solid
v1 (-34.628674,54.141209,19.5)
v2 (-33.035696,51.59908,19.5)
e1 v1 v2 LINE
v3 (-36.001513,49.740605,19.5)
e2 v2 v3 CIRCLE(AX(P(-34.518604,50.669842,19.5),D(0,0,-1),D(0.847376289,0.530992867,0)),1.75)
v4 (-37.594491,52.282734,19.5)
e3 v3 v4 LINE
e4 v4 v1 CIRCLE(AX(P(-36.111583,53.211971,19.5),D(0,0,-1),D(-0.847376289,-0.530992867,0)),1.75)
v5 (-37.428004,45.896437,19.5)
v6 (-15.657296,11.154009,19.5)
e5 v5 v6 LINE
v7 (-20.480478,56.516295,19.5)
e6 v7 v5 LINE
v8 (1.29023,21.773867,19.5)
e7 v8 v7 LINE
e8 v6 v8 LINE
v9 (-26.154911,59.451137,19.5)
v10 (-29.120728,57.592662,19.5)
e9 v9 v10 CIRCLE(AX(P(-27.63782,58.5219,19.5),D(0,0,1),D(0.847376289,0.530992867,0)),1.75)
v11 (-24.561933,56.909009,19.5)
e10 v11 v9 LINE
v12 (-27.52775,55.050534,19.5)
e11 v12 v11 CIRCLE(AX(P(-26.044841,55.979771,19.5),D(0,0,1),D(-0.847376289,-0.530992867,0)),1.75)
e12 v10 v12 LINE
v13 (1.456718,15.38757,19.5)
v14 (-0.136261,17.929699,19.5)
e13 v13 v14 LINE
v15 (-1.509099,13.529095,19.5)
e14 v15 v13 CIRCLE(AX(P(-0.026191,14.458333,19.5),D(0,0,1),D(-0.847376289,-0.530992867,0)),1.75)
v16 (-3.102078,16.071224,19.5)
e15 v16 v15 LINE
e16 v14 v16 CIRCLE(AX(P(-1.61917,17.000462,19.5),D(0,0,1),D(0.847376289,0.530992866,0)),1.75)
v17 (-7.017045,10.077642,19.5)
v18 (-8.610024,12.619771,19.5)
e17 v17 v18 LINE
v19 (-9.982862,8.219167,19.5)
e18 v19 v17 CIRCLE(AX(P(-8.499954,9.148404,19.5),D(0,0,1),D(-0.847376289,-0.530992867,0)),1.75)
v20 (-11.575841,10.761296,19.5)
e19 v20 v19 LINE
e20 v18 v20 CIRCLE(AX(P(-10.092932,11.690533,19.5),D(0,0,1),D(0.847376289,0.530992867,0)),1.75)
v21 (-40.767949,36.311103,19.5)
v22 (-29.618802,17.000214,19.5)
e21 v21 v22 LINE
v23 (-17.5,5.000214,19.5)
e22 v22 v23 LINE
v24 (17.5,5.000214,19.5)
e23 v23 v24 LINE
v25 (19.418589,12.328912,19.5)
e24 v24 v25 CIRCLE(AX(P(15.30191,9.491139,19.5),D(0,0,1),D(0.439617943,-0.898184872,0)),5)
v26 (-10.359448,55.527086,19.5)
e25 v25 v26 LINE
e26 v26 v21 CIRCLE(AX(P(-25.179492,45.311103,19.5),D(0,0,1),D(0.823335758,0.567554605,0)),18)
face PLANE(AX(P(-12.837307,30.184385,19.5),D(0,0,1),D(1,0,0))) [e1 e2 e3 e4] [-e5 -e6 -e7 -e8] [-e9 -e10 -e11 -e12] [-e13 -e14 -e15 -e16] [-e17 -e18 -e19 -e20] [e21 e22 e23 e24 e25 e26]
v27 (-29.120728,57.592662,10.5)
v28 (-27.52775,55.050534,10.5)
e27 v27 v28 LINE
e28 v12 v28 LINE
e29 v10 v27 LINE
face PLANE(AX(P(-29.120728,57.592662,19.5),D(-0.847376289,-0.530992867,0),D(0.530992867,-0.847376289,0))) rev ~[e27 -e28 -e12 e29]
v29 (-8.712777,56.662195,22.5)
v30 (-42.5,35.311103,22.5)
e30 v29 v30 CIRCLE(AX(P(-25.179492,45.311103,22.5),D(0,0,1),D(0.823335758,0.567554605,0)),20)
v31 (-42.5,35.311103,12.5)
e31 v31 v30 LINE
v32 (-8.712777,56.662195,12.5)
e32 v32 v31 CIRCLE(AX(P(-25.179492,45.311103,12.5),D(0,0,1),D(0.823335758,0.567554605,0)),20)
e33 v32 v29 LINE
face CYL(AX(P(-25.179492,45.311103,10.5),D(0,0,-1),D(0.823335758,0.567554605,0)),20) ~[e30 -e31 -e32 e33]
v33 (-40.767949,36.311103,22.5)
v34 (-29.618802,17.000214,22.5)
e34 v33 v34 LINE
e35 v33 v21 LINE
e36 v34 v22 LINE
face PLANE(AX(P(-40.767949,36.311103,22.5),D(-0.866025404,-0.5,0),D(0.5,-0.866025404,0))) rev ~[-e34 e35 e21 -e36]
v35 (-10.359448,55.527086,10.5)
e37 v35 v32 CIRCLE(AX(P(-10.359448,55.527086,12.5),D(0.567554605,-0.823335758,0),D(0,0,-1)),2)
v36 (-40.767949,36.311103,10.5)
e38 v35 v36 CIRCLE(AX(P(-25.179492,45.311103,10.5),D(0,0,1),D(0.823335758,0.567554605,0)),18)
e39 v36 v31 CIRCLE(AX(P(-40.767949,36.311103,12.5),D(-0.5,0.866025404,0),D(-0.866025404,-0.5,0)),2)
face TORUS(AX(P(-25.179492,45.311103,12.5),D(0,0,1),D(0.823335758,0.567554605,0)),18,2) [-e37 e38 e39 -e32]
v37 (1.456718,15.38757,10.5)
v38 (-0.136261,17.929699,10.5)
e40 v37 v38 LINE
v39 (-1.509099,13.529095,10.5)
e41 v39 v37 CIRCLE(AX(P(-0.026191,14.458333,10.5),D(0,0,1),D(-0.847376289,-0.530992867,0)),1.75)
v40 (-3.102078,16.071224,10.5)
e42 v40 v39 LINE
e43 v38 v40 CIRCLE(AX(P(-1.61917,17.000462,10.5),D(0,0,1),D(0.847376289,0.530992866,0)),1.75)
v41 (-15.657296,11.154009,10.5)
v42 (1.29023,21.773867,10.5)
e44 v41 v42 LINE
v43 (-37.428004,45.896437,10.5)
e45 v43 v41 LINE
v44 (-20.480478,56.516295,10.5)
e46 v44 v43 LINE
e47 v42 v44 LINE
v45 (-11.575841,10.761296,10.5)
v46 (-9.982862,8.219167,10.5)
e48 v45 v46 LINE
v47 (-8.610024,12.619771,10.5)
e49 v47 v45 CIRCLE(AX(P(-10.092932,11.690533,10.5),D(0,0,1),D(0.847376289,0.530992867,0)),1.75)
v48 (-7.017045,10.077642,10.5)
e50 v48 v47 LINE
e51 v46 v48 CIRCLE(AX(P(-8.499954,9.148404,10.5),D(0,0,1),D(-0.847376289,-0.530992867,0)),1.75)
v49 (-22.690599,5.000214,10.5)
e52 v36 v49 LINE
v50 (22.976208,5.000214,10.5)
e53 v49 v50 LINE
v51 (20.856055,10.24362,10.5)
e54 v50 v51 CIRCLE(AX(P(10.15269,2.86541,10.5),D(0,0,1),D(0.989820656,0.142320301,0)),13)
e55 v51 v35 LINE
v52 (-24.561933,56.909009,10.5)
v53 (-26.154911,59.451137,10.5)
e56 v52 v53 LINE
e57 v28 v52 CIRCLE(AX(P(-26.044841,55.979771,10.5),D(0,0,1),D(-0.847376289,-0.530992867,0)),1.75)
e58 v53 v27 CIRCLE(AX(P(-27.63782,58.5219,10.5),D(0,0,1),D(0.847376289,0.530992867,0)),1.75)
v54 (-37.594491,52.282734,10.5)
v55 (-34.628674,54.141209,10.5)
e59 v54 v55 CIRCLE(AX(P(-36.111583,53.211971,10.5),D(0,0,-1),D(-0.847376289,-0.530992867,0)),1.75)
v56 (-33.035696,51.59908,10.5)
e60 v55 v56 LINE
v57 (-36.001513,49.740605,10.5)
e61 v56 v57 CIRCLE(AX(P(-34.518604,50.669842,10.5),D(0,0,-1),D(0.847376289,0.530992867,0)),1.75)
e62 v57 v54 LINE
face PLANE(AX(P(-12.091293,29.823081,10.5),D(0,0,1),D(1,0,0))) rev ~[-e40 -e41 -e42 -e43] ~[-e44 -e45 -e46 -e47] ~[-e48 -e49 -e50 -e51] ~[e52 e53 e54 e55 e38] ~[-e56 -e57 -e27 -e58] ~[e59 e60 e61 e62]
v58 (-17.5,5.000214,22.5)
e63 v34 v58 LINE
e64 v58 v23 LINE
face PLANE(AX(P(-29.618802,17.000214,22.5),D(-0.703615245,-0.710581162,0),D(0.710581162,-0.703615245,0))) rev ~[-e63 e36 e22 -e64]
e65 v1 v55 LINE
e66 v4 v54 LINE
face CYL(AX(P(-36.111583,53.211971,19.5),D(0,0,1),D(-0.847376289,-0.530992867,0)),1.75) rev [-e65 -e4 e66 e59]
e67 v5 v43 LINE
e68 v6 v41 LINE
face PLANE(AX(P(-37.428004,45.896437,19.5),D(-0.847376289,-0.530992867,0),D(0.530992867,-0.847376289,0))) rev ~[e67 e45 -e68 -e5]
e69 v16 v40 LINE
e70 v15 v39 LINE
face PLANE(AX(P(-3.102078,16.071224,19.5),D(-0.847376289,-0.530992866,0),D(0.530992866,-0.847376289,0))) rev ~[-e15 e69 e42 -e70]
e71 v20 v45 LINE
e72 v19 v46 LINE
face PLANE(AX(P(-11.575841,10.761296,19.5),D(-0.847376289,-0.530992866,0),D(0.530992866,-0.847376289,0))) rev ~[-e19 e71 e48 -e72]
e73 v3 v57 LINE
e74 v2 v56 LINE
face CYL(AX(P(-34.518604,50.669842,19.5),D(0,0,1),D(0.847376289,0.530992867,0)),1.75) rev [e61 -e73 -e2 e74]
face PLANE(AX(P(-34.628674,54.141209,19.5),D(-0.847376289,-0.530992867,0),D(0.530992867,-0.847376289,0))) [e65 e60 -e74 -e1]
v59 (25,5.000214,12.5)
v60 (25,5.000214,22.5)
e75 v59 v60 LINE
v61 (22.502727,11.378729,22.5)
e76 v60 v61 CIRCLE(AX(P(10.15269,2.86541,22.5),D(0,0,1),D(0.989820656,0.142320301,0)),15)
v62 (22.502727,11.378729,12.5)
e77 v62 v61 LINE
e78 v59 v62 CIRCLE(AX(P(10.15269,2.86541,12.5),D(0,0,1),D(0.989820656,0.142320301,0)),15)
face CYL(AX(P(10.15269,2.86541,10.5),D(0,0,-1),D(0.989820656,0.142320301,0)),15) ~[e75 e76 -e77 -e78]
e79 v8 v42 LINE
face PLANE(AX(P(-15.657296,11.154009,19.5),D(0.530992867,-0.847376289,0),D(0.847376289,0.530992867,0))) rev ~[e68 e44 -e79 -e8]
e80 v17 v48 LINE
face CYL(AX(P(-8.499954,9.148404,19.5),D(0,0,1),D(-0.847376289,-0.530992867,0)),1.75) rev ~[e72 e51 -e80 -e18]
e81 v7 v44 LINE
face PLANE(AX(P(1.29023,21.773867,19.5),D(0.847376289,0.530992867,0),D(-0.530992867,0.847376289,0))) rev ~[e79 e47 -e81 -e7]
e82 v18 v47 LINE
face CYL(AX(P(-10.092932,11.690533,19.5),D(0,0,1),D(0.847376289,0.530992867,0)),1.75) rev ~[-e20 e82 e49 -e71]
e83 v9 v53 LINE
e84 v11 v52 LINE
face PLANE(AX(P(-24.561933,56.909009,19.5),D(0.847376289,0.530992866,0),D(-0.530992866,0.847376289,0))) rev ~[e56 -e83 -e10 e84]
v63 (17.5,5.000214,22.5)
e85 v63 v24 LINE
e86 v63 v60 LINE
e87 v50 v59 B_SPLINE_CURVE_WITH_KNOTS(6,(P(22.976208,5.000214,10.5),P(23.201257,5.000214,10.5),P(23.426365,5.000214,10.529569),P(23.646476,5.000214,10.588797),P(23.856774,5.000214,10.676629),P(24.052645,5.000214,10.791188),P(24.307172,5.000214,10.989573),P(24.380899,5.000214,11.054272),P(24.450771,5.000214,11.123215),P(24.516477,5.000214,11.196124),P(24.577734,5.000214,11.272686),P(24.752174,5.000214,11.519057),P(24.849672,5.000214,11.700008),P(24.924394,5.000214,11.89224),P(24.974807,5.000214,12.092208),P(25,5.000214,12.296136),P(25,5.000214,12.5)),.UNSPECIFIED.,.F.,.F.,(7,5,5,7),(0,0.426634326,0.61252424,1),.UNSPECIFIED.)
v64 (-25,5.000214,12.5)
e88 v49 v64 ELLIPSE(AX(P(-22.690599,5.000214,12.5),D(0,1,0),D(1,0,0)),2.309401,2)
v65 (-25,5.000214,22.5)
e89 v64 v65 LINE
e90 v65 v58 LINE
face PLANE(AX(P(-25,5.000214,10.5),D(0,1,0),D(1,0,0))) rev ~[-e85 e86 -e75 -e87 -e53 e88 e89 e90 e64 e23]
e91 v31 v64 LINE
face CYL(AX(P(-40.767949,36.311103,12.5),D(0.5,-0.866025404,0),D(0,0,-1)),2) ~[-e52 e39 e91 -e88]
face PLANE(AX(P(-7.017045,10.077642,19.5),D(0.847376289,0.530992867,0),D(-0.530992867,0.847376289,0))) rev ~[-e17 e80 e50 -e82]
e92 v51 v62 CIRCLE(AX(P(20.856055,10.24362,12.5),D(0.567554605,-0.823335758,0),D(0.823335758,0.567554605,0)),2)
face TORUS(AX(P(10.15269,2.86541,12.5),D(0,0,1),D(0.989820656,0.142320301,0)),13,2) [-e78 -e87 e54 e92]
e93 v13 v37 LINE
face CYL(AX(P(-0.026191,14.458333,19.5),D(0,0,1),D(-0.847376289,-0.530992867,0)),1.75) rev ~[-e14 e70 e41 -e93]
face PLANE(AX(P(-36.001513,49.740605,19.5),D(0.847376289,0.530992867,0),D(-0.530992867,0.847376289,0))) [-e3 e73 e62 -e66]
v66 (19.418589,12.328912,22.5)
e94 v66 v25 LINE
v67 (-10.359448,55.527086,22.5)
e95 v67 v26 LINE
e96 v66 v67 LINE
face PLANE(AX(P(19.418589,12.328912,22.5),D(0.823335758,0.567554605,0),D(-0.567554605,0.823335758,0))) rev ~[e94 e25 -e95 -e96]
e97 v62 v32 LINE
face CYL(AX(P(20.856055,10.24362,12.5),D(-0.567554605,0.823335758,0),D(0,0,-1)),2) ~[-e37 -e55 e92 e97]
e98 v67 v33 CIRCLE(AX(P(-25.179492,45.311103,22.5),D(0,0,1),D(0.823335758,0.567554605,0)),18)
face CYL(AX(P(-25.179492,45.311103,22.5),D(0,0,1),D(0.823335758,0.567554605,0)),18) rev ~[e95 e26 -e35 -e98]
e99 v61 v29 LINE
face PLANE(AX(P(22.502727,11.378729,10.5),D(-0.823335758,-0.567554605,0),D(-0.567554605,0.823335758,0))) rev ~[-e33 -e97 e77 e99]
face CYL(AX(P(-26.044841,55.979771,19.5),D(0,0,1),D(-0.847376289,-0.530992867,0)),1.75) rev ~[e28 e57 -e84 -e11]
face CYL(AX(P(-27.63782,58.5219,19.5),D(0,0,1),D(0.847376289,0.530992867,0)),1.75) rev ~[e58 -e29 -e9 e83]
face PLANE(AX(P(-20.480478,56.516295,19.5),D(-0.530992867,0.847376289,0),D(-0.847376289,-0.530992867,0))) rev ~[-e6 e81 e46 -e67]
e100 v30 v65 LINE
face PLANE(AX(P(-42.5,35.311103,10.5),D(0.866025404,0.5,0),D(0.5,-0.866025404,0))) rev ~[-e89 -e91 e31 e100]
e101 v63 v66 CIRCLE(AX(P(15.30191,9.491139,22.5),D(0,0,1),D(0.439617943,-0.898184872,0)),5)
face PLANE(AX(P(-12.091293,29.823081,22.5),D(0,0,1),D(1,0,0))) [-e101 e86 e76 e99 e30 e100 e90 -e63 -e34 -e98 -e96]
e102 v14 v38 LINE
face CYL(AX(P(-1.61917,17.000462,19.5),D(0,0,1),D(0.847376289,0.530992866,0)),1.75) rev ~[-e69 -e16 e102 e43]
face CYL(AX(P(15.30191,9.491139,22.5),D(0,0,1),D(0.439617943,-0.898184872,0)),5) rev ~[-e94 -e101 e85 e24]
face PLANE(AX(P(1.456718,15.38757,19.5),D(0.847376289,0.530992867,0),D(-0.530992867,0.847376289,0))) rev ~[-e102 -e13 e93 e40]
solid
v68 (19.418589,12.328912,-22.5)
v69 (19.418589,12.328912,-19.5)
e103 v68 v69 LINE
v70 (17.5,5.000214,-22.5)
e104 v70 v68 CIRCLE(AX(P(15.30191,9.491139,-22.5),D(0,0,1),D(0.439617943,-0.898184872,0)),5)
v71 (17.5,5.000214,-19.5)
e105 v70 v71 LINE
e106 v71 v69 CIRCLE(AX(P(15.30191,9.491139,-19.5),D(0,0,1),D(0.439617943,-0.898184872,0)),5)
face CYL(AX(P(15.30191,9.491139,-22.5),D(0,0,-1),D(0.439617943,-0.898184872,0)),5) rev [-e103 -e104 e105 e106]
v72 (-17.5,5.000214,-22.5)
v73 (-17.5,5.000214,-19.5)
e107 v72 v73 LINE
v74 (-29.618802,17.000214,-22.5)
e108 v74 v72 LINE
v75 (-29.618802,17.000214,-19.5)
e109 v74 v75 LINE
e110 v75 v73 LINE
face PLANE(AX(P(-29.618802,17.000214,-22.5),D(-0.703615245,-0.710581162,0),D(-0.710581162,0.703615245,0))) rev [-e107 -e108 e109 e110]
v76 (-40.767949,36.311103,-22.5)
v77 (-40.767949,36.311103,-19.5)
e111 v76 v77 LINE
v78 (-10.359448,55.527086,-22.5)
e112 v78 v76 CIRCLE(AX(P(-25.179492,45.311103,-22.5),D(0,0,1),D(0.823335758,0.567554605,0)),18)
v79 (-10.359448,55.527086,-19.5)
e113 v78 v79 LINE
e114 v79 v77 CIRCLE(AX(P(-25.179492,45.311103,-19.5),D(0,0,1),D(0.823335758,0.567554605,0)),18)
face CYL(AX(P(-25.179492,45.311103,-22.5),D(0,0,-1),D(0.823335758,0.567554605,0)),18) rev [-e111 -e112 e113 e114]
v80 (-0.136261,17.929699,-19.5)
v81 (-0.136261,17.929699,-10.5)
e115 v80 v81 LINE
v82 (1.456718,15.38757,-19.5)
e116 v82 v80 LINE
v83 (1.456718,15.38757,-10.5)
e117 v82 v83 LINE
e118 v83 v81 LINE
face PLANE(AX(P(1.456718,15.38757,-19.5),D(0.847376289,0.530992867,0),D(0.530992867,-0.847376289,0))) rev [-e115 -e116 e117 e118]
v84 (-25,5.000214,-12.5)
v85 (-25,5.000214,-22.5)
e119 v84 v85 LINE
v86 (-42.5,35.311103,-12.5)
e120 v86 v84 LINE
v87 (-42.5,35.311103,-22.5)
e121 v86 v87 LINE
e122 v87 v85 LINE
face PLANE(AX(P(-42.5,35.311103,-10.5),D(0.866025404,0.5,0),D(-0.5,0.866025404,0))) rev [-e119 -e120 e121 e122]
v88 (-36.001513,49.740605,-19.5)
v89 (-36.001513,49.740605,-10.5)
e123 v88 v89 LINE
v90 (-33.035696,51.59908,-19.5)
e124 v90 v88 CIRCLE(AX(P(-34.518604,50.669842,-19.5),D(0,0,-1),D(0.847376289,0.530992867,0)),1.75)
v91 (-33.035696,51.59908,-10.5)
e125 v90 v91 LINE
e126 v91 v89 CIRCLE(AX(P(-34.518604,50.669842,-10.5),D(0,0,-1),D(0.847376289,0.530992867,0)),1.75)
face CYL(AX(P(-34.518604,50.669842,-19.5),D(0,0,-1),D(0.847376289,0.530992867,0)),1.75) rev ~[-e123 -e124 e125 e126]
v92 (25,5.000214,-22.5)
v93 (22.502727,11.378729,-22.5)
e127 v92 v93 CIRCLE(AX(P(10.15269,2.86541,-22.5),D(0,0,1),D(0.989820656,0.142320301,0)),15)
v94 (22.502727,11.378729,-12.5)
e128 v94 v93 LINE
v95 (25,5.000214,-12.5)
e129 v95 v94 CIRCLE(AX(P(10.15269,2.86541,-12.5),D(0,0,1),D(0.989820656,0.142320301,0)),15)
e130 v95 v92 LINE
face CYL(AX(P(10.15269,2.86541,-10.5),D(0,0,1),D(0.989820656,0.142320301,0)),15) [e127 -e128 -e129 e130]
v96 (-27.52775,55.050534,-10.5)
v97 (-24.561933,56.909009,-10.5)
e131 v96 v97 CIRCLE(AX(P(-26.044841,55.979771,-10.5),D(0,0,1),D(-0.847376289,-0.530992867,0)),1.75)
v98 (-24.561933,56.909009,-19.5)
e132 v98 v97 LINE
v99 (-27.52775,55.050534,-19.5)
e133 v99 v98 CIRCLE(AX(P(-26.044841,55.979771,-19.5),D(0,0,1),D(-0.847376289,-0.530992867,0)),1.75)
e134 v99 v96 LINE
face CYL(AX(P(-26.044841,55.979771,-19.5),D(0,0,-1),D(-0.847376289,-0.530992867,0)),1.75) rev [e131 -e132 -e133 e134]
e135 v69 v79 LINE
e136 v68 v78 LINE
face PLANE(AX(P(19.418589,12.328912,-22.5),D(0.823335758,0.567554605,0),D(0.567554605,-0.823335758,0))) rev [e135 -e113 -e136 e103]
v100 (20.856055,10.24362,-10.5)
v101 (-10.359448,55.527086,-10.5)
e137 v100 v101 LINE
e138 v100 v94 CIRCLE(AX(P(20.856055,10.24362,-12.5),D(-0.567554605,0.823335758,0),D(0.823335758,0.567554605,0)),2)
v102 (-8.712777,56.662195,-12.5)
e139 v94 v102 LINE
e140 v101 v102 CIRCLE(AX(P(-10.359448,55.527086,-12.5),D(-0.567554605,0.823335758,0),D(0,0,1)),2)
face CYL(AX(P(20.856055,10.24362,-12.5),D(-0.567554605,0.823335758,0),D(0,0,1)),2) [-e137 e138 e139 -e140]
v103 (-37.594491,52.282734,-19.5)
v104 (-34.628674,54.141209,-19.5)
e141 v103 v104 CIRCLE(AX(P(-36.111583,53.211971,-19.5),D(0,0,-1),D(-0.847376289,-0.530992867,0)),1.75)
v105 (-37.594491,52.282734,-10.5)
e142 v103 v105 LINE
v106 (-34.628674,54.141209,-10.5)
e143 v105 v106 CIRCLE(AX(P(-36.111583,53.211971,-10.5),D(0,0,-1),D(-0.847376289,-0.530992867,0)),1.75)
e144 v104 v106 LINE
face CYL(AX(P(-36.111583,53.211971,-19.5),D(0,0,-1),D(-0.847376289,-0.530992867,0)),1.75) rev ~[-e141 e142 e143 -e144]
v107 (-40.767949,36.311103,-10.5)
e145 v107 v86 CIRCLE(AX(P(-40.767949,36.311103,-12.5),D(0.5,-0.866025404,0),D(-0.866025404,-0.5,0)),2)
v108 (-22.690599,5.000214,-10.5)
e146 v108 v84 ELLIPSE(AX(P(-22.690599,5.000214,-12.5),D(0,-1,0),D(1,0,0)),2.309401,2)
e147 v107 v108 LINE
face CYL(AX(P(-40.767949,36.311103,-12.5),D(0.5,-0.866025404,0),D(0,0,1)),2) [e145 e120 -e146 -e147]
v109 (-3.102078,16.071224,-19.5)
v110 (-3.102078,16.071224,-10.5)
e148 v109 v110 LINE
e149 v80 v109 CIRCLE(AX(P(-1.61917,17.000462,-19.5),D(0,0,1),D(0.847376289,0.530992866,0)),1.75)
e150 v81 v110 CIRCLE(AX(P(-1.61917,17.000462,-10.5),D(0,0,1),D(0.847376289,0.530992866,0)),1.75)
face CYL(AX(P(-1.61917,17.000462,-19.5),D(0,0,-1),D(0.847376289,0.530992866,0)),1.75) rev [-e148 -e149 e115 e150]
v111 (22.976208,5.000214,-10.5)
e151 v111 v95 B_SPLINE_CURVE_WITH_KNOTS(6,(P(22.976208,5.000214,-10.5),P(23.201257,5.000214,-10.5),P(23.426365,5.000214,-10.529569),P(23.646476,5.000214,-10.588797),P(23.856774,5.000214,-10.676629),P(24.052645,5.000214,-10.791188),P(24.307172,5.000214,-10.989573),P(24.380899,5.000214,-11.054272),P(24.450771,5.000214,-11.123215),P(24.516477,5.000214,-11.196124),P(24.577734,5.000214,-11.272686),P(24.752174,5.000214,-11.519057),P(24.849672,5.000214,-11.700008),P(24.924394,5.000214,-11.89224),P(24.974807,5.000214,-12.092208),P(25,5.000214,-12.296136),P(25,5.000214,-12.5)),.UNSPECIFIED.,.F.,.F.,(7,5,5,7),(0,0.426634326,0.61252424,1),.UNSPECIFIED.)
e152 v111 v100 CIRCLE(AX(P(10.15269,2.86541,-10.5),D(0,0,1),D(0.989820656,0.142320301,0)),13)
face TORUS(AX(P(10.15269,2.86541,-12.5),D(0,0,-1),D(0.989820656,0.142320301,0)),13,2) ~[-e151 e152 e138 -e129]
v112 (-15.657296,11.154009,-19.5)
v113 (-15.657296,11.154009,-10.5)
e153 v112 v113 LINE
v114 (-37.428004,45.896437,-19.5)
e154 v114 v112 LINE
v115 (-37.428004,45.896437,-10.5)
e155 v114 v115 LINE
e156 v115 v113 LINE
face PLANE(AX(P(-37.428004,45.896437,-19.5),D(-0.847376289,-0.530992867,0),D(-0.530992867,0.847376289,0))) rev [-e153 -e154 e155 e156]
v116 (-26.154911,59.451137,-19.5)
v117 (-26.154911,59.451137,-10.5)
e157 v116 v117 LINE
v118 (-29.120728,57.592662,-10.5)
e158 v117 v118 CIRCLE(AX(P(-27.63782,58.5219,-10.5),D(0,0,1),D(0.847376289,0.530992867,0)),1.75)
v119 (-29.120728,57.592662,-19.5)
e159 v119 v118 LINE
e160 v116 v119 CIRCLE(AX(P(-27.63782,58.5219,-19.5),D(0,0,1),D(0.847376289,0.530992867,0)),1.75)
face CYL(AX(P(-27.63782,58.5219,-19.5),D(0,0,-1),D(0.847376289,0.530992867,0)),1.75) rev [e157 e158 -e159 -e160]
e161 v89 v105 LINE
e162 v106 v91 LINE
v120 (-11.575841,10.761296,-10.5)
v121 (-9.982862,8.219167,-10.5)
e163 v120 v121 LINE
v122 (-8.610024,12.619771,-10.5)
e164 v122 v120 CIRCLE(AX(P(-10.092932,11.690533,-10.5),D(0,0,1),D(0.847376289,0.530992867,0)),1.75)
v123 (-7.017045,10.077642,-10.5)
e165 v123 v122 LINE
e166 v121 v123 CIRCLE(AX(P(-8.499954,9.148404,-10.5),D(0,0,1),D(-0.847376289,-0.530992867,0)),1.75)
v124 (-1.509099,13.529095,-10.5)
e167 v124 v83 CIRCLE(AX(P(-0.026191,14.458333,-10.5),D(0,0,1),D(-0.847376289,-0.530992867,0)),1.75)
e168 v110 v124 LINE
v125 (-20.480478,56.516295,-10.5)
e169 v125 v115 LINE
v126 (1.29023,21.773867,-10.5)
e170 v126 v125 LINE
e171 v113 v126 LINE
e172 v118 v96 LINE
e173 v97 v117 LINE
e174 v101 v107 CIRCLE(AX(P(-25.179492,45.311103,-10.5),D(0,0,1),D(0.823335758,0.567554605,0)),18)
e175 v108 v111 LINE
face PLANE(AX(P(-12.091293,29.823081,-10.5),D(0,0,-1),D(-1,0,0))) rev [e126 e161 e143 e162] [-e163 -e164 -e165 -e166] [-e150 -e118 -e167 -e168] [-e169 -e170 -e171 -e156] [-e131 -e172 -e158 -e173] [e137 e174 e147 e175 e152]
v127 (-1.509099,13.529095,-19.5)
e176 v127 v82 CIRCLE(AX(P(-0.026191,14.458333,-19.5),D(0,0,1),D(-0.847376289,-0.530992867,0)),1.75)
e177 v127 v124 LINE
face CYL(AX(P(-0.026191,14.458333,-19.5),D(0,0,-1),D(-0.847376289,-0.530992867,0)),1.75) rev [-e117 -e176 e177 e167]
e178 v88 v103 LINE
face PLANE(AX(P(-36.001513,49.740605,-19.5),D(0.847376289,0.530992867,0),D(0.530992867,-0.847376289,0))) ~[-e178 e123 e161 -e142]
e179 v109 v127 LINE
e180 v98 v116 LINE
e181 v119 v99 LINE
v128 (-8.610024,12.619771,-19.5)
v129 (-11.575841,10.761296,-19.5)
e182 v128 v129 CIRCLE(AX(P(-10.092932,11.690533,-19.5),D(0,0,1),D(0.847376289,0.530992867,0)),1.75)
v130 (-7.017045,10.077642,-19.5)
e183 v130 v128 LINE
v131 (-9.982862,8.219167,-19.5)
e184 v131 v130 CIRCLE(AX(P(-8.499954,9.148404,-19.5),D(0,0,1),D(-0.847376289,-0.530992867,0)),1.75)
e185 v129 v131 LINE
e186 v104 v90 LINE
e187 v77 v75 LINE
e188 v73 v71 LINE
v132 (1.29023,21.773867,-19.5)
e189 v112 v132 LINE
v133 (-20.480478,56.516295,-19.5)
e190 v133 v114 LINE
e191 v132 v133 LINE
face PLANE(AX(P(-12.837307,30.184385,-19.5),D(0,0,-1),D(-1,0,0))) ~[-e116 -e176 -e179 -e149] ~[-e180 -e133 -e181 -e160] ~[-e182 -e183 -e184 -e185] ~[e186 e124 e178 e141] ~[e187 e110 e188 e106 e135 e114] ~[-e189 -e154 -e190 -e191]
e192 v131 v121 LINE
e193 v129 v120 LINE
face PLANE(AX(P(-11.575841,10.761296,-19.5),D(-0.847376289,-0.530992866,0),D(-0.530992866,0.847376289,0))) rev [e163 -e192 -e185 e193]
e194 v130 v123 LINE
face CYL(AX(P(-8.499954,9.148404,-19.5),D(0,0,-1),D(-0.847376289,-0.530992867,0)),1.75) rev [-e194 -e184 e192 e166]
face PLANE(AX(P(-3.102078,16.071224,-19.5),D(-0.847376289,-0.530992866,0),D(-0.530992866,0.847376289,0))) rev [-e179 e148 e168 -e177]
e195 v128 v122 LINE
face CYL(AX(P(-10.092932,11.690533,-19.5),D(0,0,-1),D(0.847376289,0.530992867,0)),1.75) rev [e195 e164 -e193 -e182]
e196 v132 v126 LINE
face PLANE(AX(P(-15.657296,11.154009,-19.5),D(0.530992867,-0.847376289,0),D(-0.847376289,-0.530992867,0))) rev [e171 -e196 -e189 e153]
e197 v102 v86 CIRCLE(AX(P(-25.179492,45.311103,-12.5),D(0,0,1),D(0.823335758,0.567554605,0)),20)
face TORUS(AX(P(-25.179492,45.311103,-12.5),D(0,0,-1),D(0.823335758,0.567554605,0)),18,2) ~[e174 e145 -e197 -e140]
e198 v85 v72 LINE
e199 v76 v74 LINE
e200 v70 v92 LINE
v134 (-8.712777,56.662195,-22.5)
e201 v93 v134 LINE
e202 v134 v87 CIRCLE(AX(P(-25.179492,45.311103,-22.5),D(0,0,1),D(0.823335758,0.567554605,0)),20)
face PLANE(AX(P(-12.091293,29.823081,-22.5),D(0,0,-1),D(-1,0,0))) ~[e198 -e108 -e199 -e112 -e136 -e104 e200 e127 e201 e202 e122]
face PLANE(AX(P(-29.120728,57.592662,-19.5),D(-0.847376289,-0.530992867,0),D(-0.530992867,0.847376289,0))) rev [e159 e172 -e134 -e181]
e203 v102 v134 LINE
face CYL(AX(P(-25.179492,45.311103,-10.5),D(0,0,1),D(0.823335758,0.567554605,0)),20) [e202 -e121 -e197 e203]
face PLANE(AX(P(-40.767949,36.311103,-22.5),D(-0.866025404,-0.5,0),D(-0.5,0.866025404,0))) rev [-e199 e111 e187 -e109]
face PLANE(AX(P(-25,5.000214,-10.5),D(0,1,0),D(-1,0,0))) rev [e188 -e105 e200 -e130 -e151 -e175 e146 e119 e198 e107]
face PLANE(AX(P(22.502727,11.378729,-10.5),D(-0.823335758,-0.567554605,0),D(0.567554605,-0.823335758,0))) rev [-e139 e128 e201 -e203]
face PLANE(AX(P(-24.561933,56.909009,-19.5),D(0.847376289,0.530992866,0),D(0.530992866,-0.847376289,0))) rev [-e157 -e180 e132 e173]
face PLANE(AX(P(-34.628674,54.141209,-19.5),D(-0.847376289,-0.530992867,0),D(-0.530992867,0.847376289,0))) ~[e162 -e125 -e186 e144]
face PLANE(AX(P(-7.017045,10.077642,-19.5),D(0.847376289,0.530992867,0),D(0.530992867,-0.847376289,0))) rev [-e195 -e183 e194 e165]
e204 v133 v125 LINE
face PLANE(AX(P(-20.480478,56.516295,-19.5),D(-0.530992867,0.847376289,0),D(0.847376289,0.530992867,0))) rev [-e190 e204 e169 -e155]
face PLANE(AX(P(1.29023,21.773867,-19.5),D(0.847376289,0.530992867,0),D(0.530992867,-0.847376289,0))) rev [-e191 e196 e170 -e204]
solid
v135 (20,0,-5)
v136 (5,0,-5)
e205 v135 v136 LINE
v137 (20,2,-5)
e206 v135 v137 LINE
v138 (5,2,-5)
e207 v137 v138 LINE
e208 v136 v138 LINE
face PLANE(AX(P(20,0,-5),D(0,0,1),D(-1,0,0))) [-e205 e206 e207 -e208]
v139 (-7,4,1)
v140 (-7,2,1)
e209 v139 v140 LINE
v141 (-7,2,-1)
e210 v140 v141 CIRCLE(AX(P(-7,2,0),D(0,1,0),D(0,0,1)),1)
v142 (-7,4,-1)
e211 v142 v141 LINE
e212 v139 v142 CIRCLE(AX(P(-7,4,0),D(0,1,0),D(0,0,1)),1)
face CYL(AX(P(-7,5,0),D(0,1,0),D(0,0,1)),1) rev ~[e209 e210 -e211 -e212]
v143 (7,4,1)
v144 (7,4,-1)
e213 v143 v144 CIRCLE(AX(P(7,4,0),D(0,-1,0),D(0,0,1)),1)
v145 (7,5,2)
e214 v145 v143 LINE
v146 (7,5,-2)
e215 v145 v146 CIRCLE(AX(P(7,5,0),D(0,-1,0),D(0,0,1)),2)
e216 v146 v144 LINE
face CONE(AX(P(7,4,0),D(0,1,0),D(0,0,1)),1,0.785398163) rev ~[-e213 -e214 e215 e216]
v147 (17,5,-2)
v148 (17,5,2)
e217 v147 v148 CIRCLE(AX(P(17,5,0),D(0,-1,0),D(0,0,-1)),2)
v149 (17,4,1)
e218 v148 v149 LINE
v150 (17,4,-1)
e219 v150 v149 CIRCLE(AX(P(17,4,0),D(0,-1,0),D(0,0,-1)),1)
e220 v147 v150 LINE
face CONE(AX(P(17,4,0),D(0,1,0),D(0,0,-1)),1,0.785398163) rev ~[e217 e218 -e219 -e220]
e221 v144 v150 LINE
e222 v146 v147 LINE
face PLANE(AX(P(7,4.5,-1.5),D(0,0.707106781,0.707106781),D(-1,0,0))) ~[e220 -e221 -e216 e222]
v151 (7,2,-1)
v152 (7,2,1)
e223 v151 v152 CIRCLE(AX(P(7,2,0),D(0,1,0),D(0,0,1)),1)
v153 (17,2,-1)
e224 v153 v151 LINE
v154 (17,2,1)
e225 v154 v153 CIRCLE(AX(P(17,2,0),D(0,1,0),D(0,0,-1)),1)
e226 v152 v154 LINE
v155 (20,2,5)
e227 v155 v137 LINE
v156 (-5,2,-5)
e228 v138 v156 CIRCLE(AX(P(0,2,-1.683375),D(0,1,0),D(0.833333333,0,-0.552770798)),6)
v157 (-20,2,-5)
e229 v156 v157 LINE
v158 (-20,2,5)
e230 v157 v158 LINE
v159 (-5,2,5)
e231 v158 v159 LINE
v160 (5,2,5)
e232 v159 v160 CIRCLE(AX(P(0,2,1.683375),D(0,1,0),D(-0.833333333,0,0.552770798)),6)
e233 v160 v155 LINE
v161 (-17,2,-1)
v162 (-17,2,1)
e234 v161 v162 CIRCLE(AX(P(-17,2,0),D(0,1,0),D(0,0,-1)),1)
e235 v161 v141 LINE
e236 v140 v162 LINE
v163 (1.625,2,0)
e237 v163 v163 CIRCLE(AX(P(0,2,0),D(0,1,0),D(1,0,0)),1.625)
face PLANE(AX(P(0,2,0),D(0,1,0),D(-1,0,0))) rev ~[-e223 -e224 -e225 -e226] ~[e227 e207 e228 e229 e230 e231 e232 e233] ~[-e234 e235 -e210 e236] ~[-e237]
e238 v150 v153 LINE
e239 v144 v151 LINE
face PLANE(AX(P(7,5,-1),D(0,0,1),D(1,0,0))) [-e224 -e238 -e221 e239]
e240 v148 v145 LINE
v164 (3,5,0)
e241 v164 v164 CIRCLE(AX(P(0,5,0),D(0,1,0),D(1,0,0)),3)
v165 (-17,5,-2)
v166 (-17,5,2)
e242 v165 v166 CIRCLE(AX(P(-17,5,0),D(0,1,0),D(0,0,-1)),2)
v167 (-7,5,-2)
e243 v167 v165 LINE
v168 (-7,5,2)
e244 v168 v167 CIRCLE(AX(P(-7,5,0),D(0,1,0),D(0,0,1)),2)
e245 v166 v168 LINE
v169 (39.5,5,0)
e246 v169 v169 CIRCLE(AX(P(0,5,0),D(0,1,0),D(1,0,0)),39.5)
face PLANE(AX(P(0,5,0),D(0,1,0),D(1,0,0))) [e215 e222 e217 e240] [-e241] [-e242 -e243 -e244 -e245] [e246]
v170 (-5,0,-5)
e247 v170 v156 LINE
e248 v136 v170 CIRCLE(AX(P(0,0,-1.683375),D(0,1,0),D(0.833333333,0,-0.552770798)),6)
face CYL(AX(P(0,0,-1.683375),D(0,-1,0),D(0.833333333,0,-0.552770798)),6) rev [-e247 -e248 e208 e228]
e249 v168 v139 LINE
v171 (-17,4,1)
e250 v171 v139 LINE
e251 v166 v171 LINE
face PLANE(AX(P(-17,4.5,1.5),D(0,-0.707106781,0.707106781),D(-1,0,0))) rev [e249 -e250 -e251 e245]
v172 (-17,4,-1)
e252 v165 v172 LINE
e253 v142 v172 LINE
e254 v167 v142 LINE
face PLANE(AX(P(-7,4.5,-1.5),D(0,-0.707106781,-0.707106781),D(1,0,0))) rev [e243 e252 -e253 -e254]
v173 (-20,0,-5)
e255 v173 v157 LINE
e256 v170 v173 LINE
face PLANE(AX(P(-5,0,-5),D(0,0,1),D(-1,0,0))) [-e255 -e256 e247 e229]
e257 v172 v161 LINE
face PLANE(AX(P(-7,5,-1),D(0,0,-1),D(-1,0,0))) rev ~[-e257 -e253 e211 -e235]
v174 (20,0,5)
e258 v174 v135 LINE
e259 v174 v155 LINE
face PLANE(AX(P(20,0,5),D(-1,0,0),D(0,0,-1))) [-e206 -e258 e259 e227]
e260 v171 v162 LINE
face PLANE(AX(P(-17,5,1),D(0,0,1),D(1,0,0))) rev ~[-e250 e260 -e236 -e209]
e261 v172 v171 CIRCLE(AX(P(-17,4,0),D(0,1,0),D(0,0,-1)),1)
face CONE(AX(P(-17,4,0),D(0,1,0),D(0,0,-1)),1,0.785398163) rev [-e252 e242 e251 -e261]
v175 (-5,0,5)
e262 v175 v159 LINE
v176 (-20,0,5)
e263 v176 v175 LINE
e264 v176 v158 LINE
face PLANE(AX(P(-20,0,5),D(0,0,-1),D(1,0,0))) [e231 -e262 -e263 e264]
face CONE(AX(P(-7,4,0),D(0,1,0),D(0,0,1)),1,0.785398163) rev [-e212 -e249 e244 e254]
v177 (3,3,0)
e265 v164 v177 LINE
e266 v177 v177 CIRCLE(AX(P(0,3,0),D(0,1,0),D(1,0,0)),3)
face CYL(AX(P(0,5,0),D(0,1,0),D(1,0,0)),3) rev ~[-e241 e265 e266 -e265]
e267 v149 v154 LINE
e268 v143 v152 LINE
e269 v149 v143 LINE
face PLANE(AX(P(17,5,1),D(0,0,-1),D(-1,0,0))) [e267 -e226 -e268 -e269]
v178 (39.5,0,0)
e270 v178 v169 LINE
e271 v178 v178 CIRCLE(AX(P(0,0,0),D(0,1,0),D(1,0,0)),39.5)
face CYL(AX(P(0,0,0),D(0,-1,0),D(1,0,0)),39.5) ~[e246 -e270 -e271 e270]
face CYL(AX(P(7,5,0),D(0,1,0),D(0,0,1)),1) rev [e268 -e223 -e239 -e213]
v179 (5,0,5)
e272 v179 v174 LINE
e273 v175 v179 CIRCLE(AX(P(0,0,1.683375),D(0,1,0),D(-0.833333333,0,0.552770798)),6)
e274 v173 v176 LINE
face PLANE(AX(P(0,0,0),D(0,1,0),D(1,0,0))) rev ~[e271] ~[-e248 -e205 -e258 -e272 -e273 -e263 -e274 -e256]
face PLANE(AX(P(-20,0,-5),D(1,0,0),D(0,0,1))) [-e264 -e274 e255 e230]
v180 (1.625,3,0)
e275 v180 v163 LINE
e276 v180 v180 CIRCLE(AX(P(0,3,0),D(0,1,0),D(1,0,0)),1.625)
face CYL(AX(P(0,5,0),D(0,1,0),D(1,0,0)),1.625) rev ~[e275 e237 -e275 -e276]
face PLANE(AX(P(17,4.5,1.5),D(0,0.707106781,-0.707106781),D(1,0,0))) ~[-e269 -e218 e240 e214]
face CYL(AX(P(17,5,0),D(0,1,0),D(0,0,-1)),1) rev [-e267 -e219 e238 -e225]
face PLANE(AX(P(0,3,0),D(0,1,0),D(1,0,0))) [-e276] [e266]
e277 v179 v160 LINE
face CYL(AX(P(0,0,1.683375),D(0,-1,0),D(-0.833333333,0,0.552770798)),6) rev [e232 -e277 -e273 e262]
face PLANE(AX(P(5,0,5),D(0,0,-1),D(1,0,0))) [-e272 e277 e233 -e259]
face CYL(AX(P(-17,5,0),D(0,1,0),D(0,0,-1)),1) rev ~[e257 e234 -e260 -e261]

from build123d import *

# Parameters (mm, degrees)
SKETCH2_R               = 39.5
BOSS_EXTRUDE1_DEPTH     = 5
SKETCH3_R               = 1.625
CUT_EXTRUDE1_DEPTH      = 1
CUT_EXTRUDE1_DEPTH_BACK = 5
CUT_EXTRUDE2_DEPTH      = 2
BOSS_EXTRUDE2_DEPTH     = 12
CUT_EXTRUDE4_DEPTH      = 3
CUT_EXTRUDE5_DEPTH      = 9
SKETCH9_R               = 3
CUT_EXTRUDE6_DEPTH      = 2
FILLET3_R               = 2
CHAMFER6_SIZE           = 1


with BuildPart() as part:
    # Sketch2 → Boss-Extrude1 (new body)
    with BuildSketch(Plane(origin=(0, 0, 0), x_dir=(1, 0, 0), z_dir=(0, 1, 0))):
        Circle(SKETCH2_R)
    extrude(amount=BOSS_EXTRUDE1_DEPTH)

    # Sketch3 → Cut-Extrude1 (cut, two sides)
    with BuildSketch(Plane(origin=(0, 5, 0), x_dir=(1, 0, 0), z_dir=(0, 1, 0))) as cut_extrude1_sk:
        Circle(SKETCH3_R)
        with BuildLine():
            Line((7, 1), (17, 1))
            ThreePointArc((17, 1), (18, 0), (17, -1))
            Line((17, -1), (7, -1))
            ThreePointArc((7, -1), (6, 0), (7, 1))
        make_face()
        with BuildLine():
            Line((-7, 1), (-17, 1))
            ThreePointArc((-17, 1), (-18, 0), (-17, -1))
            Line((-17, -1), (-7, -1))
            ThreePointArc((-7, -1), (-6, 0), (-7, 1))
        make_face()
    extrude(amount=CUT_EXTRUDE1_DEPTH, mode=Mode.SUBTRACT)
    extrude(cut_extrude1_sk.sketch, amount=-CUT_EXTRUDE1_DEPTH_BACK, mode=Mode.SUBTRACT)

    # Sketch4 → Cut-Extrude2 (cut)
    with BuildSketch(Plane.XZ):
        with BuildLine():
            Line((-20, -5), (-20, 5))
            Line((-20, 5), (-5, 5))
            ThreePointArc((-5, 5), (0, 7.68337521), (5, 5))
            Line((5, 5), (20, 5))
            Line((20, 5), (20, -5))
            Line((20, -5), (5, -5))
            ThreePointArc((5, -5), (0, -7.68337521), (-5, -5))
            Line((-5, -5), (-20, -5))
        make_face()
    extrude(amount=-CUT_EXTRUDE2_DEPTH, mode=Mode.SUBTRACT)

    # Sketch9 → Cut-Extrude6 (cut)
    with BuildSketch(Plane(origin=(0, 5, 0), x_dir=(1, 0, 0), z_dir=(0, 1, 0))):
        Circle(SKETCH9_R)
    extrude(amount=-CUT_EXTRUDE6_DEPTH, mode=Mode.SUBTRACT)

    # Chamfer6
    chamfer6_edges = [part.edges().sort_by_distance(p)[0] for p in [
        (-6, 5, 0),
        (-12, 5, -1),
        (-18, 5, 0),
        (-12, 5, 1),
        (6, 5, 0),
        (12, 5, 1),
        (18, 5, 0),
        (12, 5, -1),
    ]]
    chamfer(chamfer6_edges, length=CHAMFER6_SIZE)


with BuildPart() as body_2:
    # Sketch5 → Boss-Extrude2 (new body)
    with BuildSketch(Plane.XY.offset(10.5)):
        with BuildLine():
            Line((-25, 5.000214176), (25, 5.000214176))
            ThreePointArc((25, 5.000214176), (24.120341075, 8.333931188), (22.502726521, 11.378728735))
            Line((22.502726521, 11.378728735), (-8.712776769, 56.662195413))
            ThreePointArc((-8.712776769, 56.662195413), (-35.86356999, 62.218216482), (-42.5, 35.311103308))
            Line((-42.5, 35.311103308), (-25, 5.000214176))
        make_face()
    extrude(amount=BOSS_EXTRUDE2_DEPTH)

    # Sketch6 → Cut-Extrude4 (cut)
    with BuildSketch(Plane.XY.offset(22.5)):
        with BuildLine():
            Line((-17.5, 5.000214176), (17.5, 5.000214176))
            ThreePointArc((17.5, 5.000214176), (20.13890591, 8.224855257), (19.418589077, 12.328911563))
            Line((19.418589077, 12.328911563), (-10.359448284, 55.527086203))
            ThreePointArc((-10.359448284, 55.527086203), (-34.795162183, 60.527505165), (-40.767949192, 36.311103308))
            Line((-40.767949192, 36.311103308), (-29.618802154, 17.000214176))
            Line((-29.618802154, 17.000214176), (-17.5, 5.000214176))
        make_face()
    extrude(amount=-CUT_EXTRUDE4_DEPTH, mode=Mode.SUBTRACT)

    # Sketch8 → Cut-Extrude5 (cut)
    with BuildSketch(Plane.XY.offset(19.5)):
        Polygon((-37.428003544, 45.896437317), (-15.657296014, 11.154009456), (1.290229772, 21.773866788), (-20.480477758, 56.516294649), align=None)
        with BuildLine():
            Line((-29.120728477, 57.59266239), (-27.527749877, 55.050533522))
            ThreePointArc((-27.527749877, 55.050533522), (-25.115603854, 54.496862533), (-24.561932865, 56.909008555))
            Line((-24.561932865, 56.909008555), (-26.154911464, 59.451137423))
            ThreePointArc((-26.154911464, 59.451137423), (-28.567057487, 60.004808413), (-29.120728477, 57.59266239))
        make_face()
        with BuildLine():
            Line((-3.102078014, 16.071224215), (-1.509099415, 13.529095347))
            ThreePointArc((-1.509099415, 13.529095347), (0.903046608, 12.975424358), (1.456717598, 15.38757038))
            Line((1.456717598, 15.38757038), (-0.136261002, 17.929699248))
            ThreePointArc((-0.136261002, 17.929699248), (-2.548407025, 18.483370238), (-3.102078014, 16.071224215))
        make_face()
        with BuildLine():
            Line((-11.575840907, 10.76129555), (-9.982862308, 8.219166682))
            ThreePointArc((-9.982862308, 8.219166682), (-7.570716285, 7.665495692), (-7.017045295, 10.077641715))
            Line((-7.017045295, 10.077641715), (-8.610023895, 12.619770583))
            ThreePointArc((-8.610023895, 12.619770583), (-11.022169918, 13.173441572), (-11.575840907, 10.76129555))
        make_face()
        with BuildLine():
            Line((-34.628674357, 54.141208757), (-33.035695757, 51.59907989))
            ThreePointArc((-33.035695757, 51.59907989), (-33.589366747, 49.186933867), (-36.00151277, 49.740604857))
            Line((-36.00151277, 49.740604857), (-37.59449137, 52.282733724))
            ThreePointArc((-37.59449137, 52.282733724), (-37.04082038, 54.694879747), (-34.628674357, 54.141208757))
        make_face()
    extrude(amount=-CUT_EXTRUDE5_DEPTH, mode=Mode.SUBTRACT)

    # Fillet3
    fillet3_edges = [body_2.edges().sort_by_distance(p)[0] for p in [
        (-35.86356999, 62.218216482, 10.5),
        (6.894974876, 34.020462074, 10.5),
        (24.120341075, 8.333931188, 10.5),
        (-33.75, 20.155658742, 10.5),
    ]]
    fillet(fillet3_edges, radius=FILLET3_R)


with BuildPart() as body_3:
    # Mirror1: mirrored copy
    add(body_2.part.mirror(Plane.XY))


solid = Compound([part.part, body_2.part, body_3.part])
